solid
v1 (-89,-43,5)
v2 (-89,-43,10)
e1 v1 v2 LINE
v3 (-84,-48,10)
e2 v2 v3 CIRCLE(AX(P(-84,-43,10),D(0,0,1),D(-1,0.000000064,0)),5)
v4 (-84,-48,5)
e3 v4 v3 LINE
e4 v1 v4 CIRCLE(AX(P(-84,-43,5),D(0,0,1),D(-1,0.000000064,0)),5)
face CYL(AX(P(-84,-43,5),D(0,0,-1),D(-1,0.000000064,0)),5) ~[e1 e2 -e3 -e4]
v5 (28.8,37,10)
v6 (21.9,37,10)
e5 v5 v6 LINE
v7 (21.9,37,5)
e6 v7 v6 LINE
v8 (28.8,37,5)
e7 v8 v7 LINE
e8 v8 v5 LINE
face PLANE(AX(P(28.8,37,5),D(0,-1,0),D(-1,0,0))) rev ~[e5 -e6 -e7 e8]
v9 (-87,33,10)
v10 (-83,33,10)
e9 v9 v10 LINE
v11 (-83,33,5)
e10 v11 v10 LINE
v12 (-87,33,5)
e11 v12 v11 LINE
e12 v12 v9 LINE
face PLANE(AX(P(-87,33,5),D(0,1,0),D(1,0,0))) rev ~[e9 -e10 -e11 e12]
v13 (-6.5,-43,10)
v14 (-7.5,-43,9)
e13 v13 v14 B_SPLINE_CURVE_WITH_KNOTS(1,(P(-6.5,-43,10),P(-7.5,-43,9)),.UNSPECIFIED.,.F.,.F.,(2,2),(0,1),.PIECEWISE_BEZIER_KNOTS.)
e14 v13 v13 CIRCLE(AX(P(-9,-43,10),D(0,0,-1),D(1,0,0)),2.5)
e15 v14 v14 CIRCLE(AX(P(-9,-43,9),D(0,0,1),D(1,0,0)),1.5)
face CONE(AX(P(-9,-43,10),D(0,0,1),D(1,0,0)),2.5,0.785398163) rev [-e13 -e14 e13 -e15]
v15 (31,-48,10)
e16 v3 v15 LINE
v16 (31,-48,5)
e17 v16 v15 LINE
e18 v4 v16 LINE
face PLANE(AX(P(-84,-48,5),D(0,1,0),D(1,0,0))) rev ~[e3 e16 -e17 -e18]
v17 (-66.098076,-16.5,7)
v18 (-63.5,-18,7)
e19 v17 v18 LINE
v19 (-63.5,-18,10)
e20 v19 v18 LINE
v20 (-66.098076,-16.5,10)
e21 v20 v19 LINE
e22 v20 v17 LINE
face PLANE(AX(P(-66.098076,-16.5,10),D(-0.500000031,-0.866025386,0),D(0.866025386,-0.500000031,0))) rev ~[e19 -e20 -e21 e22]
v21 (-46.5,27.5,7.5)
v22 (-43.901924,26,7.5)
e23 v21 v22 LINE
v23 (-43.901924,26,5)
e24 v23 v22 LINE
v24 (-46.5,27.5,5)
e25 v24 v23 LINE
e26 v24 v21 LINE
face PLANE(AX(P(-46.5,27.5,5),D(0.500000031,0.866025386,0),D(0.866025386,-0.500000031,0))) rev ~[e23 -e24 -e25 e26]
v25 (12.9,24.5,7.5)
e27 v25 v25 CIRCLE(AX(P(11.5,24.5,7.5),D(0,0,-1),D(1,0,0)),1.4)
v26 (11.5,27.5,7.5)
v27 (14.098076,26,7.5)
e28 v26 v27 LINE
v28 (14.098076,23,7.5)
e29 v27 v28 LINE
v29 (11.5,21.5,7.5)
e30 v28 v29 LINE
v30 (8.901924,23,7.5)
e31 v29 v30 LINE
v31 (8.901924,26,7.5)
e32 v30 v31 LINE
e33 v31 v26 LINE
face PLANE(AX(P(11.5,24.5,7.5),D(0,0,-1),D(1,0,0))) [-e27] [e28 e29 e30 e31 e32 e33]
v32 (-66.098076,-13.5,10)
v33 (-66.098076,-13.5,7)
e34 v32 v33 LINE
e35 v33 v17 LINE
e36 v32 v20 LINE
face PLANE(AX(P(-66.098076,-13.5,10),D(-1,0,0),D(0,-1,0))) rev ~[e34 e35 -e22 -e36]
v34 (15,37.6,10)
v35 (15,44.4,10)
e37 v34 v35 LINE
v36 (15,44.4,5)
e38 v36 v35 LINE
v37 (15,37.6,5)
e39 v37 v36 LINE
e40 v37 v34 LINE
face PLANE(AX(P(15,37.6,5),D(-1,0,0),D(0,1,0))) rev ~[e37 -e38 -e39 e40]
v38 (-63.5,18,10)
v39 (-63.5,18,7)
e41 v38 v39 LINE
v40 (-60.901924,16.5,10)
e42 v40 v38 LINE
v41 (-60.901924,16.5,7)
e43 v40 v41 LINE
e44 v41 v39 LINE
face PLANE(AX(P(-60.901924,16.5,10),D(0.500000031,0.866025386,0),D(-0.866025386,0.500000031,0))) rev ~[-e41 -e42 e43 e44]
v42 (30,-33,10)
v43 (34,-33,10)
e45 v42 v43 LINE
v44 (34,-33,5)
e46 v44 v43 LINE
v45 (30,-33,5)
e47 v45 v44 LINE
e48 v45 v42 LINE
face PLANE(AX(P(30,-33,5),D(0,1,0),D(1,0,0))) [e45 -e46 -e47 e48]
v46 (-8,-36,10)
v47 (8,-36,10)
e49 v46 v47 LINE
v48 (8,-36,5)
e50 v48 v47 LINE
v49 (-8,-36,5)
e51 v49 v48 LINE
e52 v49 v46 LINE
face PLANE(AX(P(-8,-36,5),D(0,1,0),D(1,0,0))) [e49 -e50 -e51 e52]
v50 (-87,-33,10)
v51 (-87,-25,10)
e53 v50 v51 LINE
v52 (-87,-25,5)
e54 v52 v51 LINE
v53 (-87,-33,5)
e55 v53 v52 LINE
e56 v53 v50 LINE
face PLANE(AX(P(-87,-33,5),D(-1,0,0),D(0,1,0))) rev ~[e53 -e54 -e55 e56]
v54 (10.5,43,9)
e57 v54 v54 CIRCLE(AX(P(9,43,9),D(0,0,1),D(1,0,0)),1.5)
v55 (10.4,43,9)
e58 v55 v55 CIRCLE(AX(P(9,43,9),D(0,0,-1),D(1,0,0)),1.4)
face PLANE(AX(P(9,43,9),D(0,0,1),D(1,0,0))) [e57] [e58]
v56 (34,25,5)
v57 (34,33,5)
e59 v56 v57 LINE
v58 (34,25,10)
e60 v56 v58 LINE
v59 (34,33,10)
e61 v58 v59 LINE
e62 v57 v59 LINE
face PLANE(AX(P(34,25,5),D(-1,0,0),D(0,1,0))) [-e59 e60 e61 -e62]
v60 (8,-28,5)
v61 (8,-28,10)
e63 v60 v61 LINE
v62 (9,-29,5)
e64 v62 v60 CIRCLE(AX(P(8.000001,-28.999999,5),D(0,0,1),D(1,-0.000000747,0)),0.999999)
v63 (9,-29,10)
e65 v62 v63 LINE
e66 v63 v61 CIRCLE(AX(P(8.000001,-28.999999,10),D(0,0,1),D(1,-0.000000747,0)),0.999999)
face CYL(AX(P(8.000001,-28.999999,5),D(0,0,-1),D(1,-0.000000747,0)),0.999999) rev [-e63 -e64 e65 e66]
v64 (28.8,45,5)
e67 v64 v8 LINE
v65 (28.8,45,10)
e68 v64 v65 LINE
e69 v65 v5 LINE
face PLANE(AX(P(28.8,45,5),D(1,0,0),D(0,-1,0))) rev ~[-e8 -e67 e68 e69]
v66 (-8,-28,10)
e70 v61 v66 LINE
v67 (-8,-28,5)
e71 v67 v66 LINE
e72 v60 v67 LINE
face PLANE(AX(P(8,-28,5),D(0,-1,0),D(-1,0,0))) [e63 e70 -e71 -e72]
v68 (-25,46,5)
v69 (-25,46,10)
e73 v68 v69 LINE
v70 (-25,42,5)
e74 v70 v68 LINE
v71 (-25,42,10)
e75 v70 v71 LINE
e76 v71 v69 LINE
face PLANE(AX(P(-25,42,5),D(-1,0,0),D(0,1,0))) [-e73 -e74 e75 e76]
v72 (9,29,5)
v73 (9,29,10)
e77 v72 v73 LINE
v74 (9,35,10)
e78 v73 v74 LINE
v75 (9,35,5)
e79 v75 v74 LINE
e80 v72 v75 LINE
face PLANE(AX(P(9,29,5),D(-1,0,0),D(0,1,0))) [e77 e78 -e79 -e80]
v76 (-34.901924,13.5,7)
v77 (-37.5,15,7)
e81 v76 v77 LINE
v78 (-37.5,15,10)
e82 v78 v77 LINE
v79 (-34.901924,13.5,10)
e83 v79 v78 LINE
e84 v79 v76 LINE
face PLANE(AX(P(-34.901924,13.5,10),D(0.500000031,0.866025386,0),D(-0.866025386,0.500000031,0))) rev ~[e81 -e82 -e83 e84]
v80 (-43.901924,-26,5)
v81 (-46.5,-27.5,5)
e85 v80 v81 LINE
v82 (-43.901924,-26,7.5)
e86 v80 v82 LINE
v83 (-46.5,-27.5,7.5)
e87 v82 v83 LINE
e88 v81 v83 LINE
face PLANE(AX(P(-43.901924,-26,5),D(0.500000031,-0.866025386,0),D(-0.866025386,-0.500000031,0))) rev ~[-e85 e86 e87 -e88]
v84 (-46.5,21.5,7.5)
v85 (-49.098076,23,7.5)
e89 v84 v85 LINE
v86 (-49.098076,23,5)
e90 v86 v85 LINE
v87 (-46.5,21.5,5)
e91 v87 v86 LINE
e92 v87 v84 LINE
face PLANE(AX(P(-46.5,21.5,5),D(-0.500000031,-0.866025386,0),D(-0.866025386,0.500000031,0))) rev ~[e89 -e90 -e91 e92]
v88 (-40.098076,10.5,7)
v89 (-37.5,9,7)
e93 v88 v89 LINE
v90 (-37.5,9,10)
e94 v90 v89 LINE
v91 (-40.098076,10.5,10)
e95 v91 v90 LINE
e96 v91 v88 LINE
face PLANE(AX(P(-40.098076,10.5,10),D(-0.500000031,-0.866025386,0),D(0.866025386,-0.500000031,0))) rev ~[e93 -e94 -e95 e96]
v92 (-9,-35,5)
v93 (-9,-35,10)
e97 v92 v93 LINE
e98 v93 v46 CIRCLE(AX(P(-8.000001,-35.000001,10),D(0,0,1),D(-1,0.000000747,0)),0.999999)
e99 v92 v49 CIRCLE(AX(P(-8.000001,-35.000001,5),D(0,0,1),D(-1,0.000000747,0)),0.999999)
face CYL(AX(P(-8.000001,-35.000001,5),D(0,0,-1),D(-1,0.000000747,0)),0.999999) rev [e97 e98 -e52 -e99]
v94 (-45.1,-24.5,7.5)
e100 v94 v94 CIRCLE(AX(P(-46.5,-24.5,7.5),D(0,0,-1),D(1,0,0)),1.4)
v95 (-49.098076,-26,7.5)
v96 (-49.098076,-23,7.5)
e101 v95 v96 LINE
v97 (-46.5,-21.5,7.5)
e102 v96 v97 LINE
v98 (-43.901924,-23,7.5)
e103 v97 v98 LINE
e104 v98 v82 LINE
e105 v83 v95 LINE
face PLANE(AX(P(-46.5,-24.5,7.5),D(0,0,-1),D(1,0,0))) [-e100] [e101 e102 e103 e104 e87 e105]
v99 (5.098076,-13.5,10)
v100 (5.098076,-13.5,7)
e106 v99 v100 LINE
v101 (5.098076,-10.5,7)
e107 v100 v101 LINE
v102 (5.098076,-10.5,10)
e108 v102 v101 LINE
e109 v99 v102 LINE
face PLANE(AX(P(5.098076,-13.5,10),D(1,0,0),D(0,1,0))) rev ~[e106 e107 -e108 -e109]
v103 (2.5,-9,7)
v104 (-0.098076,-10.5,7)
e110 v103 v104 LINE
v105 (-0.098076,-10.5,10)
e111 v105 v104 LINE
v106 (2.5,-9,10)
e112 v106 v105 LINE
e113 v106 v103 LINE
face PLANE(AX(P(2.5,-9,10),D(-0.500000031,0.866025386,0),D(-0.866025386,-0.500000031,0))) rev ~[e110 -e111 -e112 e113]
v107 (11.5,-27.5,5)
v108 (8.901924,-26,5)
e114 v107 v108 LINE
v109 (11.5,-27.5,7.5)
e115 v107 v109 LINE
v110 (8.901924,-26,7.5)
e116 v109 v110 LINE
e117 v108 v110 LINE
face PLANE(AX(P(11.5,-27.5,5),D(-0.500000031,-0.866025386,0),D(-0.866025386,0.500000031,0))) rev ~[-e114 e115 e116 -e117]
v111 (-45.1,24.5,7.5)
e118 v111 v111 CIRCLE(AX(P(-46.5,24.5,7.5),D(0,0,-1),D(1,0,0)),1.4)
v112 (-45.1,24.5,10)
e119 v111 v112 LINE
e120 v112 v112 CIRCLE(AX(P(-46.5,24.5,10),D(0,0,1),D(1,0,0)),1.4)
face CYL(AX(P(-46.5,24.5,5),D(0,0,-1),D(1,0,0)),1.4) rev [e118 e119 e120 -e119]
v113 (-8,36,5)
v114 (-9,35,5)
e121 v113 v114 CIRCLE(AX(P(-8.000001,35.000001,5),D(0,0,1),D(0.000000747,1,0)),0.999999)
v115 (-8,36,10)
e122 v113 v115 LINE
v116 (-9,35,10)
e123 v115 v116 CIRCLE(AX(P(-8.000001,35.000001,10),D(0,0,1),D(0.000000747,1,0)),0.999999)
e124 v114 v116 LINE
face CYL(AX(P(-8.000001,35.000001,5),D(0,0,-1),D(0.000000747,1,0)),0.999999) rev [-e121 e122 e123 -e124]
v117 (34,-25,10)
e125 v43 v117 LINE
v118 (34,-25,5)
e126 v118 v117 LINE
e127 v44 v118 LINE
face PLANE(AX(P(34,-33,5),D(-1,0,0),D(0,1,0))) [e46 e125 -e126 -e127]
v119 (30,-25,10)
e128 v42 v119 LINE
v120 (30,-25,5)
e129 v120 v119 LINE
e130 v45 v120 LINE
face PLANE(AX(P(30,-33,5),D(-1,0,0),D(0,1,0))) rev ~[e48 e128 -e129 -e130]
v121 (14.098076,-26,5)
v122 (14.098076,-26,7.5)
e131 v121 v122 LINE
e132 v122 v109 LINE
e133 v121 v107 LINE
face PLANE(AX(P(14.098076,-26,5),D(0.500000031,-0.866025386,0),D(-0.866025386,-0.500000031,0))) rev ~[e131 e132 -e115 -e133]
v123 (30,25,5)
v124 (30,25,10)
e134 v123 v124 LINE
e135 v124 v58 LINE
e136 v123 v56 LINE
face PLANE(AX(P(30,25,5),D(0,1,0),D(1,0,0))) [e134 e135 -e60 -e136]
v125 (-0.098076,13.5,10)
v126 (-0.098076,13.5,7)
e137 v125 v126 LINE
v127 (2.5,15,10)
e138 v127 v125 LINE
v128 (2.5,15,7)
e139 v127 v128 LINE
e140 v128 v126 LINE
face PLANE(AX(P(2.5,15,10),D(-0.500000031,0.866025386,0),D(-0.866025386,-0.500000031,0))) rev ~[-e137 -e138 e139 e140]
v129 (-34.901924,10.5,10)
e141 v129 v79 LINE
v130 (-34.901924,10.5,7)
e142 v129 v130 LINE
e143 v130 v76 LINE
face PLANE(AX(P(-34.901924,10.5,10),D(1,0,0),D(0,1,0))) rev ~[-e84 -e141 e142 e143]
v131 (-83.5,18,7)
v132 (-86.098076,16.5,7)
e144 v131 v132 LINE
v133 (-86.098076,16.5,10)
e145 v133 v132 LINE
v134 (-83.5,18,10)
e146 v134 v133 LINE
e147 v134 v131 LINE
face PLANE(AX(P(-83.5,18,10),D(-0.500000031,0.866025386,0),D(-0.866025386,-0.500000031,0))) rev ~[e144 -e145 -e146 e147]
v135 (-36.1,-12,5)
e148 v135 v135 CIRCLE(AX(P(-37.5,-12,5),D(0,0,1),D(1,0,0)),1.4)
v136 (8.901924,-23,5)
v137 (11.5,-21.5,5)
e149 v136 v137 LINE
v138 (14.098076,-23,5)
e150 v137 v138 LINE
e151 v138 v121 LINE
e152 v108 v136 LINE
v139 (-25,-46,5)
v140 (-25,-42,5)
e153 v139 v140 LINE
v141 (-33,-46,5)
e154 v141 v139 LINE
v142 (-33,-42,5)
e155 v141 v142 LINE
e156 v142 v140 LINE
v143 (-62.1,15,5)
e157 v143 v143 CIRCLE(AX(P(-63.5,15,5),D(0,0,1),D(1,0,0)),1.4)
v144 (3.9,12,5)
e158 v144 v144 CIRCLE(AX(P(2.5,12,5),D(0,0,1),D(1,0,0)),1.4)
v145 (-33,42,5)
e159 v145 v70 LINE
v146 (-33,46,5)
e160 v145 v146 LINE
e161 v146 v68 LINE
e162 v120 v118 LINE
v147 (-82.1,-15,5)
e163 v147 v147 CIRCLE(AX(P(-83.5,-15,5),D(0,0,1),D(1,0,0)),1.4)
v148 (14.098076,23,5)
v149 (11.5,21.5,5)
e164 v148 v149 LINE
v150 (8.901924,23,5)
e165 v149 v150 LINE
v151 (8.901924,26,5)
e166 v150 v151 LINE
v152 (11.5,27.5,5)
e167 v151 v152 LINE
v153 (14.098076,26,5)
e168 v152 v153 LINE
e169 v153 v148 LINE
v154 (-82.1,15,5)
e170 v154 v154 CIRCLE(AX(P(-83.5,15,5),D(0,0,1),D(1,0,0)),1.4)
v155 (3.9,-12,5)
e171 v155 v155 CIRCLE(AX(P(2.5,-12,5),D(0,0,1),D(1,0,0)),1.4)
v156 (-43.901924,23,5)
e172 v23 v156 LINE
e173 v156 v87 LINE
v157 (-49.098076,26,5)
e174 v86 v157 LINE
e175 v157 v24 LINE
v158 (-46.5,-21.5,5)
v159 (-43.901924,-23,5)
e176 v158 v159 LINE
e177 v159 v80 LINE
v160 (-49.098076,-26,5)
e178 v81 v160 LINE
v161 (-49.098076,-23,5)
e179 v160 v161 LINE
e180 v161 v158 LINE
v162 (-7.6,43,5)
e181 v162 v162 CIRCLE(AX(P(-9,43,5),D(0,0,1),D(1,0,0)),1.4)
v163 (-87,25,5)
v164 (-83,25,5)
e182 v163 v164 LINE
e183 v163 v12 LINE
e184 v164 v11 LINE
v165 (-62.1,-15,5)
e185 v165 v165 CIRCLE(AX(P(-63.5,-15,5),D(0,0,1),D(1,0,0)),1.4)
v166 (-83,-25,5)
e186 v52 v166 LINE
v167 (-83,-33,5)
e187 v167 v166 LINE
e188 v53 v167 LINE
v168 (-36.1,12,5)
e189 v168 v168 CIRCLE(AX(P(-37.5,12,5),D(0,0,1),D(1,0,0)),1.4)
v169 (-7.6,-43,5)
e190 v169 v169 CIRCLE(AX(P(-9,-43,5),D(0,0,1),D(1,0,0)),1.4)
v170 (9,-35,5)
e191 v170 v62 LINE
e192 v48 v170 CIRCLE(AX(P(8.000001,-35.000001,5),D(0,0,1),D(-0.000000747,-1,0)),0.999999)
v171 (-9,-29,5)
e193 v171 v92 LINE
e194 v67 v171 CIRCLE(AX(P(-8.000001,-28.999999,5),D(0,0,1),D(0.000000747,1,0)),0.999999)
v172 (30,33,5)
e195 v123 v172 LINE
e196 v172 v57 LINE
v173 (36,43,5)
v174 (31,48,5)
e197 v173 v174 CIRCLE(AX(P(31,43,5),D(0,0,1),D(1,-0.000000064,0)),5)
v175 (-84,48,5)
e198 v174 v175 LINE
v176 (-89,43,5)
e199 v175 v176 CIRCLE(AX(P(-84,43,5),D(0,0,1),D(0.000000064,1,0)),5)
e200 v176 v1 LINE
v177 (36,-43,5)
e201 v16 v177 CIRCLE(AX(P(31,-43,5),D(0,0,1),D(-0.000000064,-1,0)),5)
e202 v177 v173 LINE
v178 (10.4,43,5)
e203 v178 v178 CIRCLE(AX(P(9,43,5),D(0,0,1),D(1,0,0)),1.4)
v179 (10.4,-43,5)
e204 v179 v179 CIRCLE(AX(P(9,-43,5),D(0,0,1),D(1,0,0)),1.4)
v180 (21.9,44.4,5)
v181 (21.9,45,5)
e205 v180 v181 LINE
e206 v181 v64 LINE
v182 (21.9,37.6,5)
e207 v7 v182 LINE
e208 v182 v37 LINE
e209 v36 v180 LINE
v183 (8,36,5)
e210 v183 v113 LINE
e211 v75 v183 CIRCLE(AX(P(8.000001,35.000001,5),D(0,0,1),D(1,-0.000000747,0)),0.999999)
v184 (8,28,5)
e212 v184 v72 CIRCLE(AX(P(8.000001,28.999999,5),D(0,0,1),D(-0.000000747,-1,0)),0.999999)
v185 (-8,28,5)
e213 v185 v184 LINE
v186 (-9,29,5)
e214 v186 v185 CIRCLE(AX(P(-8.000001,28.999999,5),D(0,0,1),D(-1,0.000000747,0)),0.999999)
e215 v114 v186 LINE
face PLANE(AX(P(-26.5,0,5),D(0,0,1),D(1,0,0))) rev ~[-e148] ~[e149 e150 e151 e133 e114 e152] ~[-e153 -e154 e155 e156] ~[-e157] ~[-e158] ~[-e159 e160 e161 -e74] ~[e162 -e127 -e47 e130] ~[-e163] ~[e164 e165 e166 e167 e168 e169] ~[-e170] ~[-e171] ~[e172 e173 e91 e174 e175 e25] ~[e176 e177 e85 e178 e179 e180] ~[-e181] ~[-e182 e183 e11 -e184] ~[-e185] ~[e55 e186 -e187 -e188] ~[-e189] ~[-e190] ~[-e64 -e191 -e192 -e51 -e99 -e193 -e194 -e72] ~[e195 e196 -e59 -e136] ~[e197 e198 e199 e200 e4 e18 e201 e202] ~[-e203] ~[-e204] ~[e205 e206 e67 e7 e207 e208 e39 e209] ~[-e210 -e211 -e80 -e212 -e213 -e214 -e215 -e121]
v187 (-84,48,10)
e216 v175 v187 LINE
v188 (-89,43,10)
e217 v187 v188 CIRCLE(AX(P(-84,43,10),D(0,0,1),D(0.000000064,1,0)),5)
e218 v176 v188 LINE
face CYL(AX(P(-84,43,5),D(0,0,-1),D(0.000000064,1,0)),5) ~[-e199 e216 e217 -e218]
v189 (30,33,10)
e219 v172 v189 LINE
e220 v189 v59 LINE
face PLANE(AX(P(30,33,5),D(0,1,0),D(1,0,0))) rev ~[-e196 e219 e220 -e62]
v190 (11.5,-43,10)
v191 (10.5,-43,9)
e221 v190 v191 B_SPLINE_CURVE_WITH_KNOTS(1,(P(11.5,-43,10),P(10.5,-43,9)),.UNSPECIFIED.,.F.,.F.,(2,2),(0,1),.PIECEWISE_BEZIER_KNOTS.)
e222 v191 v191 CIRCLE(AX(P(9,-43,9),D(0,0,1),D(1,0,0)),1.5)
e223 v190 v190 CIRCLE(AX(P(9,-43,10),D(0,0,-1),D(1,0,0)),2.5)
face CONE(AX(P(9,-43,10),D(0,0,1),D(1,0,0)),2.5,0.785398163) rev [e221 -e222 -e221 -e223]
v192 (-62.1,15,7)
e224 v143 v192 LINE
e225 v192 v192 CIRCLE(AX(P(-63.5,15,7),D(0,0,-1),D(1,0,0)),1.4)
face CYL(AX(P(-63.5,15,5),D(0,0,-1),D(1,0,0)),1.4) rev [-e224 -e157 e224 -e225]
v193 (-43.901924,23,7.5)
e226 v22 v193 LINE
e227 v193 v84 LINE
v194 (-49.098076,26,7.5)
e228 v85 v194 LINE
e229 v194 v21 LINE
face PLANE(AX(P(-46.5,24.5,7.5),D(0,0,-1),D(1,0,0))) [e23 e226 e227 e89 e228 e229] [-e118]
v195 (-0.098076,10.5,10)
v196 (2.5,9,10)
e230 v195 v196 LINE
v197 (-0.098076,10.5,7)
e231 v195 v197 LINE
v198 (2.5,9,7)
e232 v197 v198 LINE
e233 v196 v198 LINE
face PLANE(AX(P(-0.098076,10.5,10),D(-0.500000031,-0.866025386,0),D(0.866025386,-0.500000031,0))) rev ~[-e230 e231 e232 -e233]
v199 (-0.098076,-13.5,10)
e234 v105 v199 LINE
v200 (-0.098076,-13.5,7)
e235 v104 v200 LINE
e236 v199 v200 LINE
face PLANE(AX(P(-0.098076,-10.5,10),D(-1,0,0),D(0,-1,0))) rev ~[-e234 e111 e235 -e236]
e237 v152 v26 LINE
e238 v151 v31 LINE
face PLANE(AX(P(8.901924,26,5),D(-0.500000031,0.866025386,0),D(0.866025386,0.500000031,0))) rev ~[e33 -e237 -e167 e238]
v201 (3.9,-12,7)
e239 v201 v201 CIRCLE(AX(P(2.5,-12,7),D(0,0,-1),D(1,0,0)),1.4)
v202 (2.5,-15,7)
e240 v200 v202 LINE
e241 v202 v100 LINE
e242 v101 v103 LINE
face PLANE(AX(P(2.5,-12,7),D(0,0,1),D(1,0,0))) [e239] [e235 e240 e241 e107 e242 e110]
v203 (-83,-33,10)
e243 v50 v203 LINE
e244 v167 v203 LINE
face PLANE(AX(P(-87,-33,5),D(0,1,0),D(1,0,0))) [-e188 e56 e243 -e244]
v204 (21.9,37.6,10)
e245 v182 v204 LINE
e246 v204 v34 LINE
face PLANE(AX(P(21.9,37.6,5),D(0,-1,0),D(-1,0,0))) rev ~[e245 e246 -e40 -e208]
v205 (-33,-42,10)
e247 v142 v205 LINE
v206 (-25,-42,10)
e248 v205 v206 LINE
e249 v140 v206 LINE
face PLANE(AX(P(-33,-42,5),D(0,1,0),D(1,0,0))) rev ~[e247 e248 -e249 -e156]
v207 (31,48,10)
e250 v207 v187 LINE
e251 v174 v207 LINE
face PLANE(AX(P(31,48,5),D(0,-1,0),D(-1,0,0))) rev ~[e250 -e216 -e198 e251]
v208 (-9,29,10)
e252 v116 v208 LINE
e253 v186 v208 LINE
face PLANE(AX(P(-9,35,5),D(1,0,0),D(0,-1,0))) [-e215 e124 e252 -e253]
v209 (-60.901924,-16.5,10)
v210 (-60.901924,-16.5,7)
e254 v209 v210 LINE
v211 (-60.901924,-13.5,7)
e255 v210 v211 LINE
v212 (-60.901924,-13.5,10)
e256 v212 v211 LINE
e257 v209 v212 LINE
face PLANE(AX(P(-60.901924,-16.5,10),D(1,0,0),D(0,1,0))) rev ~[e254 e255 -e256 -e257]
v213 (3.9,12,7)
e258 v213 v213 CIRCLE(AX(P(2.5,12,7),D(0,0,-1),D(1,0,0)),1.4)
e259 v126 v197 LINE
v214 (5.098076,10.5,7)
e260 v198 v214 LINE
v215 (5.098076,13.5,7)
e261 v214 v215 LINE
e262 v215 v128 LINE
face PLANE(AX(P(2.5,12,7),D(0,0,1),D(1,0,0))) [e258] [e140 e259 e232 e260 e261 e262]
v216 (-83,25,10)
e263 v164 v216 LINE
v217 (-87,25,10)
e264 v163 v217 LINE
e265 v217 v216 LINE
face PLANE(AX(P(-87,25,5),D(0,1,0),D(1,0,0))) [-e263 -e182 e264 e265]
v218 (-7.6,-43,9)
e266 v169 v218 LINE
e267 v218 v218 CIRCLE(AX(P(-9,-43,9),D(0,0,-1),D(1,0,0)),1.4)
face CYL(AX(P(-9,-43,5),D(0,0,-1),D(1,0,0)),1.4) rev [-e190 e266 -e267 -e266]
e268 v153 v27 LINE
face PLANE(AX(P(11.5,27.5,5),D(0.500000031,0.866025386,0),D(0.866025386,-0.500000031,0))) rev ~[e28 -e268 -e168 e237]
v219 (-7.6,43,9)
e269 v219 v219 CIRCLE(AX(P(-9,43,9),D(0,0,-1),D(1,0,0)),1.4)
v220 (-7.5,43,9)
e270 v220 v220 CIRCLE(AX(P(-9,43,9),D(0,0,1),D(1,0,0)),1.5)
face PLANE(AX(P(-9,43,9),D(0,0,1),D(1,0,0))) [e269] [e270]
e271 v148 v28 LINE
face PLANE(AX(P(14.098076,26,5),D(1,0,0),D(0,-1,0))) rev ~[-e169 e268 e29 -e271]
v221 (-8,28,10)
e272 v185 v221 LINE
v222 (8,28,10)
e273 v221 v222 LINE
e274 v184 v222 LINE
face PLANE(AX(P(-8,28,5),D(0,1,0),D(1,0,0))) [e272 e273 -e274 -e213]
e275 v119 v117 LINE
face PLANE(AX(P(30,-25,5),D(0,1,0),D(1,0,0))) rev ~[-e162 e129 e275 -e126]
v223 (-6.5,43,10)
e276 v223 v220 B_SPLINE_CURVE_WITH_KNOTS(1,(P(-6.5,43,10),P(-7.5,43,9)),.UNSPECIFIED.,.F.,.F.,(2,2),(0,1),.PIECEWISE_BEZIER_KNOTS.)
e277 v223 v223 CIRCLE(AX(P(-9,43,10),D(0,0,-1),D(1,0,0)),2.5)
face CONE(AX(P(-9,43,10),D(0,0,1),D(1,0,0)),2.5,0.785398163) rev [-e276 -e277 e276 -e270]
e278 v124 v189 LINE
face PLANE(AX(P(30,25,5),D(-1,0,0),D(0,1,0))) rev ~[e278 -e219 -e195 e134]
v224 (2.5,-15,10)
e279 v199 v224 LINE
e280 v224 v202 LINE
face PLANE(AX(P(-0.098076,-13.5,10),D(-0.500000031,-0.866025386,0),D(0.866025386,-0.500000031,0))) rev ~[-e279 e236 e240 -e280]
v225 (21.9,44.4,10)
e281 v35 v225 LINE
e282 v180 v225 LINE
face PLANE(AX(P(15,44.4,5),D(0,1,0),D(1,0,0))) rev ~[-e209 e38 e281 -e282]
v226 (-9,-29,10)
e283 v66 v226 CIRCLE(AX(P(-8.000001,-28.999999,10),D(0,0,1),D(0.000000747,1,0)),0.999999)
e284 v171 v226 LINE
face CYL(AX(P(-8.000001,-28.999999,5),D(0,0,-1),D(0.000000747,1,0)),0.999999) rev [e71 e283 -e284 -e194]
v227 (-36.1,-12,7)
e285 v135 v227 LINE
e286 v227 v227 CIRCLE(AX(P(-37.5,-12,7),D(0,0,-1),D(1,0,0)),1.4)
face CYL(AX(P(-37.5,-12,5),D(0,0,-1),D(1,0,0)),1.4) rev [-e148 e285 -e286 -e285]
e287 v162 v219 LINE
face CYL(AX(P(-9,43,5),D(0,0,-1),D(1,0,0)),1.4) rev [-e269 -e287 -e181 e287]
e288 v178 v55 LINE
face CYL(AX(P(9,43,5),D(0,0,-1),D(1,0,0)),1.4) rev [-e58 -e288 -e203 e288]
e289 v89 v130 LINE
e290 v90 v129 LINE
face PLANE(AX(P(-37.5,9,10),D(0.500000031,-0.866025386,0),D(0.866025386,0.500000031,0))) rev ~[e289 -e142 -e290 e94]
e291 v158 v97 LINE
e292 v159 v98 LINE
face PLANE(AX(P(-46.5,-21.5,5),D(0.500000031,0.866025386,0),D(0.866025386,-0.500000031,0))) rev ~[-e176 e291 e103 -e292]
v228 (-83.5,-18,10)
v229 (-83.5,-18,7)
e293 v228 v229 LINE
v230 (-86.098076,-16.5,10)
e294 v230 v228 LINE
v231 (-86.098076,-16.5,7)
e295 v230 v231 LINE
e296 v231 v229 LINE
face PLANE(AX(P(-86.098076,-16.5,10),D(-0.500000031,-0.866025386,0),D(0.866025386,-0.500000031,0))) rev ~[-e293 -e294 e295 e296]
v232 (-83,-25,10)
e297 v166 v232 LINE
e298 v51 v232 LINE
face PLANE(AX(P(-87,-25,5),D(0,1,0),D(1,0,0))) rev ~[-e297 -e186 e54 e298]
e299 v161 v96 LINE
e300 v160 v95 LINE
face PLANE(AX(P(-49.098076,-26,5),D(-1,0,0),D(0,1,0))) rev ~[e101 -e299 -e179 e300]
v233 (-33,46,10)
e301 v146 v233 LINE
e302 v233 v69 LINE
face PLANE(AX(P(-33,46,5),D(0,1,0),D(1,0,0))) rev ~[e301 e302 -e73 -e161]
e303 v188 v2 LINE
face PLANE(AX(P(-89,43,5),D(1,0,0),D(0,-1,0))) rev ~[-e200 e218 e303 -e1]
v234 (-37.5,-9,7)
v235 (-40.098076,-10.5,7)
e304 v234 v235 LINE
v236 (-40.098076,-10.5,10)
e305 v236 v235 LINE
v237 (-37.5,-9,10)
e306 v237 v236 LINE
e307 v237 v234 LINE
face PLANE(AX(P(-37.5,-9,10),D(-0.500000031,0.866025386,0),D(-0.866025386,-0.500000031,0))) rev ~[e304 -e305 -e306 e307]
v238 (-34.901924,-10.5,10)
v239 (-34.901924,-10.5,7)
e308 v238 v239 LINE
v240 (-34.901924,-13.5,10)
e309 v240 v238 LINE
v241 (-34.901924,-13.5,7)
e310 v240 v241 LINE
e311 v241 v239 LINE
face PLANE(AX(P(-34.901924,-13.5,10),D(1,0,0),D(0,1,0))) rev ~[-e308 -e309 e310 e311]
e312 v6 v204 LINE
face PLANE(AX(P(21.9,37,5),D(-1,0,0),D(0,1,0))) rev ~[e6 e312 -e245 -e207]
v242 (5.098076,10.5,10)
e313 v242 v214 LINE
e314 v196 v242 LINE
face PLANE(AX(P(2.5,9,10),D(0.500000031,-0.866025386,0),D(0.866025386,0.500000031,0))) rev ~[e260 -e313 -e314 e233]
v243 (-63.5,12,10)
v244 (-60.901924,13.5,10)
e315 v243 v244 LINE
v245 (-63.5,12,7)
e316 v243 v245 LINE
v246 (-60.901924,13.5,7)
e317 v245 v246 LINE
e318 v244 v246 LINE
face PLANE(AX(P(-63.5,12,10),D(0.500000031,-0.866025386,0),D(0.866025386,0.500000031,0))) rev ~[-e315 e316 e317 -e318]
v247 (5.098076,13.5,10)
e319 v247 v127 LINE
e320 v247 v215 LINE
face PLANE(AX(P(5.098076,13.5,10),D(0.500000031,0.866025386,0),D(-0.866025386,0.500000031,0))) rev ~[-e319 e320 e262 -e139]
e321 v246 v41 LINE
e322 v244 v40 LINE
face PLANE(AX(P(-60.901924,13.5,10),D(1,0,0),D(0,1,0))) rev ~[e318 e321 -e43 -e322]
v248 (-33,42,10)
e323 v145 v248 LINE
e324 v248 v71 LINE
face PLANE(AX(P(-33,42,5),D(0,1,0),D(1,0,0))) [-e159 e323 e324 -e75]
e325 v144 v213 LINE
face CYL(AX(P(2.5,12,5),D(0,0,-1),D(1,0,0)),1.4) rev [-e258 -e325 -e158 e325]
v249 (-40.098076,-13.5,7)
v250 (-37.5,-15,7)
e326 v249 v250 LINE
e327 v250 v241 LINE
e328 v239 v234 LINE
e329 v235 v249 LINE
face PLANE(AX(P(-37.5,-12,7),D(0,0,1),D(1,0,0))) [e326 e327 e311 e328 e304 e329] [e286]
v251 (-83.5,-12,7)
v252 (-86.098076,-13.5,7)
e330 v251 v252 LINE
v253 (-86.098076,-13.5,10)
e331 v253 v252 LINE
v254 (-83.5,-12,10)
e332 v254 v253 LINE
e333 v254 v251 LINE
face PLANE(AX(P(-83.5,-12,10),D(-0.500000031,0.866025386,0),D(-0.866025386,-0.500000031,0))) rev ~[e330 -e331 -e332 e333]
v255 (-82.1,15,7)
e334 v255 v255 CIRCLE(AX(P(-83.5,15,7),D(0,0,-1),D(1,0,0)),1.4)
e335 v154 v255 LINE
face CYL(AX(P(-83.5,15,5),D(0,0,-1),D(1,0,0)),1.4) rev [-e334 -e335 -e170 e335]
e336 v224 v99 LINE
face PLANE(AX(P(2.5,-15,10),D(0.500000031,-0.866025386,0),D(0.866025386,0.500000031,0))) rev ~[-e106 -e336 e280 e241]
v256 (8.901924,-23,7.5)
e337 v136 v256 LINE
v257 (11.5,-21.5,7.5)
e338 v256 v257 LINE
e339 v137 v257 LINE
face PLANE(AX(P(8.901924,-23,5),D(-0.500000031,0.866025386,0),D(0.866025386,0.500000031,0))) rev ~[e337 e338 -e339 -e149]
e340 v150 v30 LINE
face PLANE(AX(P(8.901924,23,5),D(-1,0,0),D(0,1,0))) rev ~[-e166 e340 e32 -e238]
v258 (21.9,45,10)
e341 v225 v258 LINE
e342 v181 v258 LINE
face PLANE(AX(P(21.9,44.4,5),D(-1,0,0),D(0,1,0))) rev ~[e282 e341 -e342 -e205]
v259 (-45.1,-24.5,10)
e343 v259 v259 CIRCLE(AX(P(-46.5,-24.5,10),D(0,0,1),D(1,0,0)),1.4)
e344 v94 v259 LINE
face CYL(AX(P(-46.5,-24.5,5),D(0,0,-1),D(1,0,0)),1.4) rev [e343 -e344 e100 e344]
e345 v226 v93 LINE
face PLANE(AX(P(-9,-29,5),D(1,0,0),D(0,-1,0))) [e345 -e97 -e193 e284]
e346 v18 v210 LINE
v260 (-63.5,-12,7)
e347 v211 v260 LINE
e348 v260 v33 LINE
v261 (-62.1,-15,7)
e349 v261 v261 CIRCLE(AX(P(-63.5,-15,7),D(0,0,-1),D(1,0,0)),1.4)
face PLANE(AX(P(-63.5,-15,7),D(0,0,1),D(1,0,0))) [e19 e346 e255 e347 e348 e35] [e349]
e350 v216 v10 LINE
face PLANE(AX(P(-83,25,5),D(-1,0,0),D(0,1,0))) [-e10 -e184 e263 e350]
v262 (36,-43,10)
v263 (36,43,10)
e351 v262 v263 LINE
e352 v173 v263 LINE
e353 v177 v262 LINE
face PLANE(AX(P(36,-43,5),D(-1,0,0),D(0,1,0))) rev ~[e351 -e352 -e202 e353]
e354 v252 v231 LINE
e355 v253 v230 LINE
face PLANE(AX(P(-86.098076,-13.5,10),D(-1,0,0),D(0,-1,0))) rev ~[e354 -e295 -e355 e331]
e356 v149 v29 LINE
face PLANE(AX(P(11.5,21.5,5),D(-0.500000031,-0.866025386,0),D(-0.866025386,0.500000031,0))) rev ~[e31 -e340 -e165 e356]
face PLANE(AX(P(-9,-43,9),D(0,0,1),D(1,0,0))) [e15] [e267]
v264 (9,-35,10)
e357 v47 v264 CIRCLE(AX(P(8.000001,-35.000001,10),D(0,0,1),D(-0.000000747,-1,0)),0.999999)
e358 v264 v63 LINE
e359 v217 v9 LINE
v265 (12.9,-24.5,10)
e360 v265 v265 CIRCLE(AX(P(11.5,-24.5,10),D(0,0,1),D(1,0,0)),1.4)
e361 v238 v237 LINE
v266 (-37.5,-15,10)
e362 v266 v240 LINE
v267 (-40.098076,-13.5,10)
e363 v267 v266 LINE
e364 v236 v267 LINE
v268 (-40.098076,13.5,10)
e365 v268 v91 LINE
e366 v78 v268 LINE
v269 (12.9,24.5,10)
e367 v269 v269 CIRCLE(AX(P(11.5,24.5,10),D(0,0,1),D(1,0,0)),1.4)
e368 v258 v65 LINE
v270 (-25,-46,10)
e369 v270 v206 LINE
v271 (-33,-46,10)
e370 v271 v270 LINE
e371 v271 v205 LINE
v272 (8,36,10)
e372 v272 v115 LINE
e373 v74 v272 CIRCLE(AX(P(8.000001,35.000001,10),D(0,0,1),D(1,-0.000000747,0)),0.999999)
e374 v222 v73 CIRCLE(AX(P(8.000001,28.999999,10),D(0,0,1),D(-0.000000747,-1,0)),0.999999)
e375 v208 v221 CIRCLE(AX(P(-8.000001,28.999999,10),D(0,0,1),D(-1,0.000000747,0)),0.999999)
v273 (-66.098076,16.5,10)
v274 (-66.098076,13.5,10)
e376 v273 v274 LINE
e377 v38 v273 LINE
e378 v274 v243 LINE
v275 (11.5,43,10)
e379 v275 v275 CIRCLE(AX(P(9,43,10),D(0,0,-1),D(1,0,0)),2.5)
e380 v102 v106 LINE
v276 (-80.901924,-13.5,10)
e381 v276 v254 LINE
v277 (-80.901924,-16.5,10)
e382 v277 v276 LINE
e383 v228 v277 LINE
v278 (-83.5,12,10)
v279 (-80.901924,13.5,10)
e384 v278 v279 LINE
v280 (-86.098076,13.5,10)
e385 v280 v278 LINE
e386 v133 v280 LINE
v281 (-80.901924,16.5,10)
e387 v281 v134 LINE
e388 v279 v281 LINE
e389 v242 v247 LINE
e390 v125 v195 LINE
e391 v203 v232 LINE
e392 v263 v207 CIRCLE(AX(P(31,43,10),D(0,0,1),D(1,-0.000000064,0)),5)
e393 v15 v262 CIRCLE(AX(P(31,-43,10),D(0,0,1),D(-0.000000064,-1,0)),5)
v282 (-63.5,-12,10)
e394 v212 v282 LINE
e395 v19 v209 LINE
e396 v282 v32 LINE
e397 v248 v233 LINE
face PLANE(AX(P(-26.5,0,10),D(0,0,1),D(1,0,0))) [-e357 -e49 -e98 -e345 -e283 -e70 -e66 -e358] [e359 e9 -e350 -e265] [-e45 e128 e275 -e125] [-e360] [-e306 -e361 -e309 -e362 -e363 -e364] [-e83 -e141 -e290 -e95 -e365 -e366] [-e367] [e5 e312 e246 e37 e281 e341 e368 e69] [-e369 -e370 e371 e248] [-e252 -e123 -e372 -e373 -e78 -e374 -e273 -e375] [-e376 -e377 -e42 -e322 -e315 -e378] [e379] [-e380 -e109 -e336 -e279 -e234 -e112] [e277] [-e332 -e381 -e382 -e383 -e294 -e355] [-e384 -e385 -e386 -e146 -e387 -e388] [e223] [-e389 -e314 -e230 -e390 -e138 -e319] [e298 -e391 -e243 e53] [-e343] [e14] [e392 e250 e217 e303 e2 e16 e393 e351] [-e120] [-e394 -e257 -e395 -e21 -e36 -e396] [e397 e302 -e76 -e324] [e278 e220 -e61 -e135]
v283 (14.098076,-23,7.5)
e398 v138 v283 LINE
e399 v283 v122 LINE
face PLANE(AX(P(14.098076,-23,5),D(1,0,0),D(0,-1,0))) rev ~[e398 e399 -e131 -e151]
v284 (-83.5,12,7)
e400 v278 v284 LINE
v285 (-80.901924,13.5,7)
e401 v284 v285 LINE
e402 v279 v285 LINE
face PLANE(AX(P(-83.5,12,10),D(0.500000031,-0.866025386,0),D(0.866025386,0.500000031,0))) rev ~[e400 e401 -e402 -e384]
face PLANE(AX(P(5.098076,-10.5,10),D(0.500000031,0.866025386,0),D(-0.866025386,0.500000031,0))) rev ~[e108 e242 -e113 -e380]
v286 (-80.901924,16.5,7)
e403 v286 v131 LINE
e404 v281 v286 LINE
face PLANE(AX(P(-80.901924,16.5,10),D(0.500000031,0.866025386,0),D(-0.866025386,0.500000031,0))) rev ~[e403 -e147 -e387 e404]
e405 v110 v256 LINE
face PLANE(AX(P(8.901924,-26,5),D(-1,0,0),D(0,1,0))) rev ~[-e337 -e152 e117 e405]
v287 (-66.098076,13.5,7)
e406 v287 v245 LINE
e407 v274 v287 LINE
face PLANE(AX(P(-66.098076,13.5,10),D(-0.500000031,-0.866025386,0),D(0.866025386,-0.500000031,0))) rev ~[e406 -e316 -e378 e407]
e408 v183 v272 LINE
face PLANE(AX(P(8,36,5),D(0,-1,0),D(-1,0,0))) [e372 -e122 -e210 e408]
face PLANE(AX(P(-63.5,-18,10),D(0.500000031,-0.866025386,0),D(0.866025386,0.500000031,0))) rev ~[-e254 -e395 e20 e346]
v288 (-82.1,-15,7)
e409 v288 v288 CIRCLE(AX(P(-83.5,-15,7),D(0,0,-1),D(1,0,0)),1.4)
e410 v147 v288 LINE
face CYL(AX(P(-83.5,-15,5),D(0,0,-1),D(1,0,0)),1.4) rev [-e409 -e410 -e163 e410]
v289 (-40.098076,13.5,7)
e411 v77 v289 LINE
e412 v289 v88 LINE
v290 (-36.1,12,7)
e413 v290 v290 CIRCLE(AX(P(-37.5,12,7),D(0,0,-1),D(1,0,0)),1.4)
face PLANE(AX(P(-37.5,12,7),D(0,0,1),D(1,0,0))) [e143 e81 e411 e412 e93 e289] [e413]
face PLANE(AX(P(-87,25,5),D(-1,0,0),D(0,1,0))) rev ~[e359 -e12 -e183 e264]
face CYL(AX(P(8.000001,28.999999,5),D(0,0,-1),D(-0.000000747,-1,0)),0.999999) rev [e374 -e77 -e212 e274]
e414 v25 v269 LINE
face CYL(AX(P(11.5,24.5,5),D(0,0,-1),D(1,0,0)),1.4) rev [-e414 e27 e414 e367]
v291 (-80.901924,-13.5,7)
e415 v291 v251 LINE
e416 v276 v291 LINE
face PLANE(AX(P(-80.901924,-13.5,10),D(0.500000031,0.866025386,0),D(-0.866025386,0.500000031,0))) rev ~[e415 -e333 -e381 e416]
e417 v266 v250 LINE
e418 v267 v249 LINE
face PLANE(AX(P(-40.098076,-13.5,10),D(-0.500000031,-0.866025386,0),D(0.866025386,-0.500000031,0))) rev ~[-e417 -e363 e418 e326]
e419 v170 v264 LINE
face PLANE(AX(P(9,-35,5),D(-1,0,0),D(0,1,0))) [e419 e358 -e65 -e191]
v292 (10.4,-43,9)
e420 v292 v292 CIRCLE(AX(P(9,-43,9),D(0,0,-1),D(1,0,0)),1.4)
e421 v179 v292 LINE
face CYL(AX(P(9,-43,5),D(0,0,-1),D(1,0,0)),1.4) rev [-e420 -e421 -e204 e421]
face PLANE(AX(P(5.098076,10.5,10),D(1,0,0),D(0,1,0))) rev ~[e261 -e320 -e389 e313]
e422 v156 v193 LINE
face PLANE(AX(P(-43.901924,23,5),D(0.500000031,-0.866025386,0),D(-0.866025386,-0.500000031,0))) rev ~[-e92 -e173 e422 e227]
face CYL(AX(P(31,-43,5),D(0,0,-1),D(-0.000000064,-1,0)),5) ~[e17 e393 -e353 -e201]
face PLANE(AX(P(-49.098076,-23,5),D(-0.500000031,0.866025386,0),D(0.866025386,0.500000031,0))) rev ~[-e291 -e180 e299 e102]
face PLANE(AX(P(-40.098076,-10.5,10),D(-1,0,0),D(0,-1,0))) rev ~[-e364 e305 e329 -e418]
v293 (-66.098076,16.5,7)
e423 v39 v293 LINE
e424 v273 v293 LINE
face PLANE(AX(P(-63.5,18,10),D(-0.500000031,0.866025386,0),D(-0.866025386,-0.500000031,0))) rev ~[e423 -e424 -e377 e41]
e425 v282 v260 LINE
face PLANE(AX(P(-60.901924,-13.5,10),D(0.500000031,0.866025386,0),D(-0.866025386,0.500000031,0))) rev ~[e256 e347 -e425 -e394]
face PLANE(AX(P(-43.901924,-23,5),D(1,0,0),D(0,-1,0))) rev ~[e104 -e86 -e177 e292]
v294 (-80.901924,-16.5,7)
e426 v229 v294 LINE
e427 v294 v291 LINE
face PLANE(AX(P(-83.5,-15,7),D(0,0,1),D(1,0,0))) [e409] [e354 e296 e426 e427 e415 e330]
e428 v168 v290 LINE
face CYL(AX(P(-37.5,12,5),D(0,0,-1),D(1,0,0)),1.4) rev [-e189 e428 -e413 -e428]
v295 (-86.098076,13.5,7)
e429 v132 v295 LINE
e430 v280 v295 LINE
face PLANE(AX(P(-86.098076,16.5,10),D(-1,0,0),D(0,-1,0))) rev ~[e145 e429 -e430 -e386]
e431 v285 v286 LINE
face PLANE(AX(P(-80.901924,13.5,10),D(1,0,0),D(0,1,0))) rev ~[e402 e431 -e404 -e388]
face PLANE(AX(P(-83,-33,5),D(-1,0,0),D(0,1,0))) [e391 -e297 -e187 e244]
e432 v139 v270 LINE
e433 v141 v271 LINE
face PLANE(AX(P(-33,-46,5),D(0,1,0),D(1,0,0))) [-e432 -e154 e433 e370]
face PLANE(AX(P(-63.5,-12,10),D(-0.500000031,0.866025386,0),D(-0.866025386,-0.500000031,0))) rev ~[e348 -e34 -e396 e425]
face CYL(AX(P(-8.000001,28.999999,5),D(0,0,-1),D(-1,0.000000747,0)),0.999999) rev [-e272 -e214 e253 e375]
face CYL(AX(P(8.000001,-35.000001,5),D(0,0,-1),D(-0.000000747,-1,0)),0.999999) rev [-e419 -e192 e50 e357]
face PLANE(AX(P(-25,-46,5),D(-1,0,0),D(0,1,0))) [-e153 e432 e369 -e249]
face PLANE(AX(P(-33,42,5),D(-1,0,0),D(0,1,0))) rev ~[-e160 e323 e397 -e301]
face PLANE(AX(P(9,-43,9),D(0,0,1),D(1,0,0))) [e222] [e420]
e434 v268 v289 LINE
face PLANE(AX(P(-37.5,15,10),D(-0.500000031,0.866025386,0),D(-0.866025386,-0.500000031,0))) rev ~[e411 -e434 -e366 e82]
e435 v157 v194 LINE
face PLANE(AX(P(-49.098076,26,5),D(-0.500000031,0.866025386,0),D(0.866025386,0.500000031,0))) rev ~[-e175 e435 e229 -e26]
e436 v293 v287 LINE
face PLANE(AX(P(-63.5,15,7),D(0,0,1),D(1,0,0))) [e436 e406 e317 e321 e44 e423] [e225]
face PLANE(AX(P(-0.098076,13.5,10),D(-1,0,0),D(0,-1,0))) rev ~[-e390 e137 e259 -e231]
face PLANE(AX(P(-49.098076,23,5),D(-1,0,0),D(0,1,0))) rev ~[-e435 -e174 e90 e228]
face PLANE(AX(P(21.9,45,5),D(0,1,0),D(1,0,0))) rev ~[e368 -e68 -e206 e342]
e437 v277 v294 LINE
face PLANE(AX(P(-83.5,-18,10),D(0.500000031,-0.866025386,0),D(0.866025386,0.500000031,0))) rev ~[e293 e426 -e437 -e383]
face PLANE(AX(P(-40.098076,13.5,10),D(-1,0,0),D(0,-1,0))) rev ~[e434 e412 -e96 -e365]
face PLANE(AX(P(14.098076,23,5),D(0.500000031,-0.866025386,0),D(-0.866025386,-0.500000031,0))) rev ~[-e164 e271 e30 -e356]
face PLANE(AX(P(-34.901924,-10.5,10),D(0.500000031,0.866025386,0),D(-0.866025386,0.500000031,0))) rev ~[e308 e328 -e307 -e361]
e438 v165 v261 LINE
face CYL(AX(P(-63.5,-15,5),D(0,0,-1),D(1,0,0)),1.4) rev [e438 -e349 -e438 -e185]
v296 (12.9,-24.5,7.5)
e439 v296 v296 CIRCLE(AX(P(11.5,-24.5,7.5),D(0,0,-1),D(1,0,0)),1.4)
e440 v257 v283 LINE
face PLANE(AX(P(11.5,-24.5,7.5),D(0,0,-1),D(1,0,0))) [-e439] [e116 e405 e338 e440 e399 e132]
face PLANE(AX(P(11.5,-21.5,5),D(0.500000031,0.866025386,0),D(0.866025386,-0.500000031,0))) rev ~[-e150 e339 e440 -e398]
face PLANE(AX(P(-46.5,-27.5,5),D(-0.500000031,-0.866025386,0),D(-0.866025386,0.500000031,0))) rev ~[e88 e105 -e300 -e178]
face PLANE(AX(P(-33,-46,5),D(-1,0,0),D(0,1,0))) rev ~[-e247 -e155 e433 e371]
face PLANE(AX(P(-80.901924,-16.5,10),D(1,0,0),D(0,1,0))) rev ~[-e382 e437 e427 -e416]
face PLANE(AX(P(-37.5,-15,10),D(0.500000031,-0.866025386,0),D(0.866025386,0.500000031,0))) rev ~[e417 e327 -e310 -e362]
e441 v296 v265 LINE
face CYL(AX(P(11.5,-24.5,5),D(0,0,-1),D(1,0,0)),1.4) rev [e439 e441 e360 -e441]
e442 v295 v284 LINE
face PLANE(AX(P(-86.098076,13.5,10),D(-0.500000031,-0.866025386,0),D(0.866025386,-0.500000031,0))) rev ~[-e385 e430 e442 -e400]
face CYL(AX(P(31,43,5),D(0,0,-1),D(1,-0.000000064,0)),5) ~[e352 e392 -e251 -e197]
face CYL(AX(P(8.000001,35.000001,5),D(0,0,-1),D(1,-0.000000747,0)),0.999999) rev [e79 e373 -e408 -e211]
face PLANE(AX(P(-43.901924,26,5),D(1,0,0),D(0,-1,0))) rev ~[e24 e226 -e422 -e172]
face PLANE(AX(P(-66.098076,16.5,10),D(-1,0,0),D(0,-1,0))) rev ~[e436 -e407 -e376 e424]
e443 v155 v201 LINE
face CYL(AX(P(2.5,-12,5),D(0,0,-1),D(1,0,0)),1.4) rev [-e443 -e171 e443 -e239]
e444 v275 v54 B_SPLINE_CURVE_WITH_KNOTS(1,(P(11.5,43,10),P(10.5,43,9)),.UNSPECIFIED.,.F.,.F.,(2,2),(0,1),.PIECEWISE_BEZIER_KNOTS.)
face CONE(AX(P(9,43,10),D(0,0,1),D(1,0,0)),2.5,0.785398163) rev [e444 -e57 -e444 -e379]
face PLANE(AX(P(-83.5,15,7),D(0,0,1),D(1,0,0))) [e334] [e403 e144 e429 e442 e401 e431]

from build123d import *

# Parameters (mm, degrees)
PAD009_START    = 5
SKETCH014_R     = 1.4
SKETCH014_W     = 4
SKETCH014_H     = 8
SKETCH014_W_2   = 8
SKETCH014_H_2   = 4
PAD009_DEPTH    = 5
POCKET010_DEPTH = 2.5
POCKET011_DEPTH = 3
SKETCH022_R     = 2.5
POCKET012_DEPTH = 1
POCKET012_TAPER = 45


with BuildPart() as part:
    # Sketch014 → Pad009 (new body)
    with BuildSketch(Plane.XY.offset(PAD009_START)):
        with BuildLine():
            Line((-89, 43), (-89, -43))
            ThreePointArc((-89, -43), (-87.535534, -46.535534), (-84, -48))
            Line((-84, -48), (31, -48))
            ThreePointArc((31, -48), (34.535534, -46.535534), (36, -43))
            Line((36, -43), (36, 43))
            ThreePointArc((36, 43), (34.535534, 46.535534), (31, 48))
            Line((31, 48), (-84, 48))
            ThreePointArc((-84, 48), (-87.535534, 46.535534), (-89, 43))
        make_face()
        with Locations((-9, 43)):
            Circle(SKETCH014_R, mode=Mode.SUBTRACT)
        with Locations((9, 43)):
            Circle(SKETCH014_R, mode=Mode.SUBTRACT)
        with Locations((-9, -43)):
            Circle(SKETCH014_R, mode=Mode.SUBTRACT)
        with Locations((9, -43)):
            Circle(SKETCH014_R, mode=Mode.SUBTRACT)
        with Locations((-37.5, 12)):
            Circle(SKETCH014_R, mode=Mode.SUBTRACT)
        with Locations((2.5, 12)):
            Circle(SKETCH014_R, mode=Mode.SUBTRACT)
        with Locations((2.5, -12)):
            Circle(SKETCH014_R, mode=Mode.SUBTRACT)
        with Locations((-37.5, -12)):
            Circle(SKETCH014_R, mode=Mode.SUBTRACT)
        with Locations((-83.5, 15)):
            Circle(SKETCH014_R, mode=Mode.SUBTRACT)
        with Locations((-63.5, 15)):
            Circle(SKETCH014_R, mode=Mode.SUBTRACT)
        with Locations((-63.5, -15)):
            Circle(SKETCH014_R, mode=Mode.SUBTRACT)
        with Locations((-83.5, -15)):
            Circle(SKETCH014_R, mode=Mode.SUBTRACT)
        with Locations((-46.5, 24.5)):
            Circle(SKETCH014_R, mode=Mode.SUBTRACT)
        with Locations((-46.5, -24.5)):
            Circle(SKETCH014_R, mode=Mode.SUBTRACT)
        with Locations((11.5, -24.5)):
            Circle(SKETCH014_R, mode=Mode.SUBTRACT)
        with Locations((11.5, 24.5)):
            Circle(SKETCH014_R, mode=Mode.SUBTRACT)
        with BuildLine():
            Line((-9, 35), (-9, 29))
            ThreePointArc((-9, 29), (-8.707107, 28.292893), (-8, 28))
            Line((-8, 28), (8, 28))
            ThreePointArc((8, 28), (8.707107, 28.292893), (9, 29))
            Line((9, 29), (9, 35))
            ThreePointArc((9, 35), (8.707107, 35.707107), (8, 36))
            Line((8, 36), (-8, 36))
            ThreePointArc((-8, 36), (-8.707107, 35.707107), (-9, 35))
        make_face(mode=Mode.SUBTRACT)
        with BuildLine():
            Line((-9, -29), (-9, -35))
            ThreePointArc((-9, -35), (-8.707107, -35.707107), (-8, -36))
            Line((-8, -36), (8, -36))
            ThreePointArc((8, -36), (8.707107, -35.707107), (9, -35))
            Line((9, -35), (9, -29))
            ThreePointArc((9, -29), (8.707107, -28.292893), (8, -28))
            Line((8, -28), (-8, -28))
            ThreePointArc((-8, -28), (-8.707107, -28.292893), (-9, -29))
        make_face(mode=Mode.SUBTRACT)
        Polygon((28.8, 45), (28.8, 37), (21.9, 37), (21.9, 37.6), (15, 37.6), (15, 44.4), (21.9, 44.4), (21.9, 45), align=None, mode=Mode.SUBTRACT)
        with Locations((32, 29)):
            Rectangle(SKETCH014_W, SKETCH014_H, mode=Mode.SUBTRACT)
        with Locations((32, -29)):
            Rectangle(SKETCH014_W, SKETCH014_H, mode=Mode.SUBTRACT)
        with Locations((-29, 44)):
            Rectangle(SKETCH014_W_2, SKETCH014_H_2, mode=Mode.SUBTRACT)
        with Locations((-29, -44)):
            Rectangle(SKETCH014_W_2, SKETCH014_H_2, mode=Mode.SUBTRACT)
        with Locations((-85, 29)):
            Rectangle(SKETCH014_W, SKETCH014_H, mode=Mode.SUBTRACT)
        with Locations((-85, -29)):
            Rectangle(SKETCH014_W, SKETCH014_H, mode=Mode.SUBTRACT)
    extrude(amount=PAD009_DEPTH)

    # Sketch020 (on Face73 of Pad009) → Pocket010 (cut)
    with BuildSketch(Plane(origin=(0, 0, 5), x_dir=(1, 0, 0), z_dir=(0, 0, -1))):
        Polygon((-46.5, -27.5), (-43.901924, -26), (-43.901924, -23), (-46.5, -21.5), (-49.098076, -23), (-49.098076, -26), align=None)
        Polygon((-46.5, 27.5), (-49.098076, 26), (-49.098076, 23), (-46.5, 21.5), (-43.901924, 23), (-43.901924, 26), align=None)
        Polygon((11.5, 27.5), (8.901924, 26), (8.901924, 23), (11.5, 21.5), (14.098076, 23), (14.098076, 26), align=None)
        Polygon((11.5, -27.5), (14.098076, -26), (14.098076, -23), (11.5, -21.5), (8.901924, -23), (8.901924, -26), align=None)
    extrude(amount=-POCKET010_DEPTH, mode=Mode.SUBTRACT)

    # Sketch021 (on Face5 of Pocket010) → Pocket011 (cut)
    with BuildSketch(Plane.XY.offset(10)):
        Polygon((-83.5, 12), (-80.901924, 13.5), (-80.901924, 16.5), (-83.5, 18), (-86.098076, 16.5), (-86.098076, 13.5), align=None)
        Polygon((-83.5, -18), (-80.901924, -16.5), (-80.901924, -13.5), (-83.5, -12), (-86.098076, -13.5), (-86.098076, -16.5), align=None)
        Polygon((-63.5, 12), (-60.901924, 13.5), (-60.901924, 16.5), (-63.5, 18), (-66.098076, 16.5), (-66.098076, 13.5), align=None)
        Polygon((-63.5, -12), (-66.098076, -13.5), (-66.098076, -16.5), (-63.5, -18), (-60.901924, -16.5), (-60.901924, -13.5), align=None)
        Polygon((-37.5, -15), (-34.901924, -13.5), (-34.901924, -10.5), (-37.5, -9), (-40.098076, -10.5), (-40.098076, -13.5), align=None)
        Polygon((-37.5, 15), (-40.098076, 13.5), (-40.098076, 10.5), (-37.5, 9), (-34.901924, 10.5), (-34.901924, 13.5), align=None)
        Polygon((2.5, 15), (-0.098076, 13.5), (-0.098076, 10.5), (2.5, 9), (5.098076, 10.5), (5.098076, 13.5), align=None)
        Polygon((2.5, -15), (5.098076, -13.5), (5.098076, -10.5), (2.5, -9), (-0.098076, -10.5), (-0.098076, -13.5), align=None)
    extrude(amount=-POCKET011_DEPTH, mode=Mode.SUBTRACT)

    # Sketch022 (on Face5 of Pocket011) → Pocket012 (cut)
    with BuildSketch(Plane.XY.offset(10)):
        with Locations((-9, 43)):
            Circle(SKETCH022_R)
        with Locations((9, 43)):
            Circle(SKETCH022_R)
        with Locations((-9, -43)):
            Circle(SKETCH022_R)
        with Locations((9, -43)):
            Circle(SKETCH022_R)
    extrude(amount=-POCKET012_DEPTH, taper=POCKET012_TAPER, mode=Mode.SUBTRACT)


solid = part.part
